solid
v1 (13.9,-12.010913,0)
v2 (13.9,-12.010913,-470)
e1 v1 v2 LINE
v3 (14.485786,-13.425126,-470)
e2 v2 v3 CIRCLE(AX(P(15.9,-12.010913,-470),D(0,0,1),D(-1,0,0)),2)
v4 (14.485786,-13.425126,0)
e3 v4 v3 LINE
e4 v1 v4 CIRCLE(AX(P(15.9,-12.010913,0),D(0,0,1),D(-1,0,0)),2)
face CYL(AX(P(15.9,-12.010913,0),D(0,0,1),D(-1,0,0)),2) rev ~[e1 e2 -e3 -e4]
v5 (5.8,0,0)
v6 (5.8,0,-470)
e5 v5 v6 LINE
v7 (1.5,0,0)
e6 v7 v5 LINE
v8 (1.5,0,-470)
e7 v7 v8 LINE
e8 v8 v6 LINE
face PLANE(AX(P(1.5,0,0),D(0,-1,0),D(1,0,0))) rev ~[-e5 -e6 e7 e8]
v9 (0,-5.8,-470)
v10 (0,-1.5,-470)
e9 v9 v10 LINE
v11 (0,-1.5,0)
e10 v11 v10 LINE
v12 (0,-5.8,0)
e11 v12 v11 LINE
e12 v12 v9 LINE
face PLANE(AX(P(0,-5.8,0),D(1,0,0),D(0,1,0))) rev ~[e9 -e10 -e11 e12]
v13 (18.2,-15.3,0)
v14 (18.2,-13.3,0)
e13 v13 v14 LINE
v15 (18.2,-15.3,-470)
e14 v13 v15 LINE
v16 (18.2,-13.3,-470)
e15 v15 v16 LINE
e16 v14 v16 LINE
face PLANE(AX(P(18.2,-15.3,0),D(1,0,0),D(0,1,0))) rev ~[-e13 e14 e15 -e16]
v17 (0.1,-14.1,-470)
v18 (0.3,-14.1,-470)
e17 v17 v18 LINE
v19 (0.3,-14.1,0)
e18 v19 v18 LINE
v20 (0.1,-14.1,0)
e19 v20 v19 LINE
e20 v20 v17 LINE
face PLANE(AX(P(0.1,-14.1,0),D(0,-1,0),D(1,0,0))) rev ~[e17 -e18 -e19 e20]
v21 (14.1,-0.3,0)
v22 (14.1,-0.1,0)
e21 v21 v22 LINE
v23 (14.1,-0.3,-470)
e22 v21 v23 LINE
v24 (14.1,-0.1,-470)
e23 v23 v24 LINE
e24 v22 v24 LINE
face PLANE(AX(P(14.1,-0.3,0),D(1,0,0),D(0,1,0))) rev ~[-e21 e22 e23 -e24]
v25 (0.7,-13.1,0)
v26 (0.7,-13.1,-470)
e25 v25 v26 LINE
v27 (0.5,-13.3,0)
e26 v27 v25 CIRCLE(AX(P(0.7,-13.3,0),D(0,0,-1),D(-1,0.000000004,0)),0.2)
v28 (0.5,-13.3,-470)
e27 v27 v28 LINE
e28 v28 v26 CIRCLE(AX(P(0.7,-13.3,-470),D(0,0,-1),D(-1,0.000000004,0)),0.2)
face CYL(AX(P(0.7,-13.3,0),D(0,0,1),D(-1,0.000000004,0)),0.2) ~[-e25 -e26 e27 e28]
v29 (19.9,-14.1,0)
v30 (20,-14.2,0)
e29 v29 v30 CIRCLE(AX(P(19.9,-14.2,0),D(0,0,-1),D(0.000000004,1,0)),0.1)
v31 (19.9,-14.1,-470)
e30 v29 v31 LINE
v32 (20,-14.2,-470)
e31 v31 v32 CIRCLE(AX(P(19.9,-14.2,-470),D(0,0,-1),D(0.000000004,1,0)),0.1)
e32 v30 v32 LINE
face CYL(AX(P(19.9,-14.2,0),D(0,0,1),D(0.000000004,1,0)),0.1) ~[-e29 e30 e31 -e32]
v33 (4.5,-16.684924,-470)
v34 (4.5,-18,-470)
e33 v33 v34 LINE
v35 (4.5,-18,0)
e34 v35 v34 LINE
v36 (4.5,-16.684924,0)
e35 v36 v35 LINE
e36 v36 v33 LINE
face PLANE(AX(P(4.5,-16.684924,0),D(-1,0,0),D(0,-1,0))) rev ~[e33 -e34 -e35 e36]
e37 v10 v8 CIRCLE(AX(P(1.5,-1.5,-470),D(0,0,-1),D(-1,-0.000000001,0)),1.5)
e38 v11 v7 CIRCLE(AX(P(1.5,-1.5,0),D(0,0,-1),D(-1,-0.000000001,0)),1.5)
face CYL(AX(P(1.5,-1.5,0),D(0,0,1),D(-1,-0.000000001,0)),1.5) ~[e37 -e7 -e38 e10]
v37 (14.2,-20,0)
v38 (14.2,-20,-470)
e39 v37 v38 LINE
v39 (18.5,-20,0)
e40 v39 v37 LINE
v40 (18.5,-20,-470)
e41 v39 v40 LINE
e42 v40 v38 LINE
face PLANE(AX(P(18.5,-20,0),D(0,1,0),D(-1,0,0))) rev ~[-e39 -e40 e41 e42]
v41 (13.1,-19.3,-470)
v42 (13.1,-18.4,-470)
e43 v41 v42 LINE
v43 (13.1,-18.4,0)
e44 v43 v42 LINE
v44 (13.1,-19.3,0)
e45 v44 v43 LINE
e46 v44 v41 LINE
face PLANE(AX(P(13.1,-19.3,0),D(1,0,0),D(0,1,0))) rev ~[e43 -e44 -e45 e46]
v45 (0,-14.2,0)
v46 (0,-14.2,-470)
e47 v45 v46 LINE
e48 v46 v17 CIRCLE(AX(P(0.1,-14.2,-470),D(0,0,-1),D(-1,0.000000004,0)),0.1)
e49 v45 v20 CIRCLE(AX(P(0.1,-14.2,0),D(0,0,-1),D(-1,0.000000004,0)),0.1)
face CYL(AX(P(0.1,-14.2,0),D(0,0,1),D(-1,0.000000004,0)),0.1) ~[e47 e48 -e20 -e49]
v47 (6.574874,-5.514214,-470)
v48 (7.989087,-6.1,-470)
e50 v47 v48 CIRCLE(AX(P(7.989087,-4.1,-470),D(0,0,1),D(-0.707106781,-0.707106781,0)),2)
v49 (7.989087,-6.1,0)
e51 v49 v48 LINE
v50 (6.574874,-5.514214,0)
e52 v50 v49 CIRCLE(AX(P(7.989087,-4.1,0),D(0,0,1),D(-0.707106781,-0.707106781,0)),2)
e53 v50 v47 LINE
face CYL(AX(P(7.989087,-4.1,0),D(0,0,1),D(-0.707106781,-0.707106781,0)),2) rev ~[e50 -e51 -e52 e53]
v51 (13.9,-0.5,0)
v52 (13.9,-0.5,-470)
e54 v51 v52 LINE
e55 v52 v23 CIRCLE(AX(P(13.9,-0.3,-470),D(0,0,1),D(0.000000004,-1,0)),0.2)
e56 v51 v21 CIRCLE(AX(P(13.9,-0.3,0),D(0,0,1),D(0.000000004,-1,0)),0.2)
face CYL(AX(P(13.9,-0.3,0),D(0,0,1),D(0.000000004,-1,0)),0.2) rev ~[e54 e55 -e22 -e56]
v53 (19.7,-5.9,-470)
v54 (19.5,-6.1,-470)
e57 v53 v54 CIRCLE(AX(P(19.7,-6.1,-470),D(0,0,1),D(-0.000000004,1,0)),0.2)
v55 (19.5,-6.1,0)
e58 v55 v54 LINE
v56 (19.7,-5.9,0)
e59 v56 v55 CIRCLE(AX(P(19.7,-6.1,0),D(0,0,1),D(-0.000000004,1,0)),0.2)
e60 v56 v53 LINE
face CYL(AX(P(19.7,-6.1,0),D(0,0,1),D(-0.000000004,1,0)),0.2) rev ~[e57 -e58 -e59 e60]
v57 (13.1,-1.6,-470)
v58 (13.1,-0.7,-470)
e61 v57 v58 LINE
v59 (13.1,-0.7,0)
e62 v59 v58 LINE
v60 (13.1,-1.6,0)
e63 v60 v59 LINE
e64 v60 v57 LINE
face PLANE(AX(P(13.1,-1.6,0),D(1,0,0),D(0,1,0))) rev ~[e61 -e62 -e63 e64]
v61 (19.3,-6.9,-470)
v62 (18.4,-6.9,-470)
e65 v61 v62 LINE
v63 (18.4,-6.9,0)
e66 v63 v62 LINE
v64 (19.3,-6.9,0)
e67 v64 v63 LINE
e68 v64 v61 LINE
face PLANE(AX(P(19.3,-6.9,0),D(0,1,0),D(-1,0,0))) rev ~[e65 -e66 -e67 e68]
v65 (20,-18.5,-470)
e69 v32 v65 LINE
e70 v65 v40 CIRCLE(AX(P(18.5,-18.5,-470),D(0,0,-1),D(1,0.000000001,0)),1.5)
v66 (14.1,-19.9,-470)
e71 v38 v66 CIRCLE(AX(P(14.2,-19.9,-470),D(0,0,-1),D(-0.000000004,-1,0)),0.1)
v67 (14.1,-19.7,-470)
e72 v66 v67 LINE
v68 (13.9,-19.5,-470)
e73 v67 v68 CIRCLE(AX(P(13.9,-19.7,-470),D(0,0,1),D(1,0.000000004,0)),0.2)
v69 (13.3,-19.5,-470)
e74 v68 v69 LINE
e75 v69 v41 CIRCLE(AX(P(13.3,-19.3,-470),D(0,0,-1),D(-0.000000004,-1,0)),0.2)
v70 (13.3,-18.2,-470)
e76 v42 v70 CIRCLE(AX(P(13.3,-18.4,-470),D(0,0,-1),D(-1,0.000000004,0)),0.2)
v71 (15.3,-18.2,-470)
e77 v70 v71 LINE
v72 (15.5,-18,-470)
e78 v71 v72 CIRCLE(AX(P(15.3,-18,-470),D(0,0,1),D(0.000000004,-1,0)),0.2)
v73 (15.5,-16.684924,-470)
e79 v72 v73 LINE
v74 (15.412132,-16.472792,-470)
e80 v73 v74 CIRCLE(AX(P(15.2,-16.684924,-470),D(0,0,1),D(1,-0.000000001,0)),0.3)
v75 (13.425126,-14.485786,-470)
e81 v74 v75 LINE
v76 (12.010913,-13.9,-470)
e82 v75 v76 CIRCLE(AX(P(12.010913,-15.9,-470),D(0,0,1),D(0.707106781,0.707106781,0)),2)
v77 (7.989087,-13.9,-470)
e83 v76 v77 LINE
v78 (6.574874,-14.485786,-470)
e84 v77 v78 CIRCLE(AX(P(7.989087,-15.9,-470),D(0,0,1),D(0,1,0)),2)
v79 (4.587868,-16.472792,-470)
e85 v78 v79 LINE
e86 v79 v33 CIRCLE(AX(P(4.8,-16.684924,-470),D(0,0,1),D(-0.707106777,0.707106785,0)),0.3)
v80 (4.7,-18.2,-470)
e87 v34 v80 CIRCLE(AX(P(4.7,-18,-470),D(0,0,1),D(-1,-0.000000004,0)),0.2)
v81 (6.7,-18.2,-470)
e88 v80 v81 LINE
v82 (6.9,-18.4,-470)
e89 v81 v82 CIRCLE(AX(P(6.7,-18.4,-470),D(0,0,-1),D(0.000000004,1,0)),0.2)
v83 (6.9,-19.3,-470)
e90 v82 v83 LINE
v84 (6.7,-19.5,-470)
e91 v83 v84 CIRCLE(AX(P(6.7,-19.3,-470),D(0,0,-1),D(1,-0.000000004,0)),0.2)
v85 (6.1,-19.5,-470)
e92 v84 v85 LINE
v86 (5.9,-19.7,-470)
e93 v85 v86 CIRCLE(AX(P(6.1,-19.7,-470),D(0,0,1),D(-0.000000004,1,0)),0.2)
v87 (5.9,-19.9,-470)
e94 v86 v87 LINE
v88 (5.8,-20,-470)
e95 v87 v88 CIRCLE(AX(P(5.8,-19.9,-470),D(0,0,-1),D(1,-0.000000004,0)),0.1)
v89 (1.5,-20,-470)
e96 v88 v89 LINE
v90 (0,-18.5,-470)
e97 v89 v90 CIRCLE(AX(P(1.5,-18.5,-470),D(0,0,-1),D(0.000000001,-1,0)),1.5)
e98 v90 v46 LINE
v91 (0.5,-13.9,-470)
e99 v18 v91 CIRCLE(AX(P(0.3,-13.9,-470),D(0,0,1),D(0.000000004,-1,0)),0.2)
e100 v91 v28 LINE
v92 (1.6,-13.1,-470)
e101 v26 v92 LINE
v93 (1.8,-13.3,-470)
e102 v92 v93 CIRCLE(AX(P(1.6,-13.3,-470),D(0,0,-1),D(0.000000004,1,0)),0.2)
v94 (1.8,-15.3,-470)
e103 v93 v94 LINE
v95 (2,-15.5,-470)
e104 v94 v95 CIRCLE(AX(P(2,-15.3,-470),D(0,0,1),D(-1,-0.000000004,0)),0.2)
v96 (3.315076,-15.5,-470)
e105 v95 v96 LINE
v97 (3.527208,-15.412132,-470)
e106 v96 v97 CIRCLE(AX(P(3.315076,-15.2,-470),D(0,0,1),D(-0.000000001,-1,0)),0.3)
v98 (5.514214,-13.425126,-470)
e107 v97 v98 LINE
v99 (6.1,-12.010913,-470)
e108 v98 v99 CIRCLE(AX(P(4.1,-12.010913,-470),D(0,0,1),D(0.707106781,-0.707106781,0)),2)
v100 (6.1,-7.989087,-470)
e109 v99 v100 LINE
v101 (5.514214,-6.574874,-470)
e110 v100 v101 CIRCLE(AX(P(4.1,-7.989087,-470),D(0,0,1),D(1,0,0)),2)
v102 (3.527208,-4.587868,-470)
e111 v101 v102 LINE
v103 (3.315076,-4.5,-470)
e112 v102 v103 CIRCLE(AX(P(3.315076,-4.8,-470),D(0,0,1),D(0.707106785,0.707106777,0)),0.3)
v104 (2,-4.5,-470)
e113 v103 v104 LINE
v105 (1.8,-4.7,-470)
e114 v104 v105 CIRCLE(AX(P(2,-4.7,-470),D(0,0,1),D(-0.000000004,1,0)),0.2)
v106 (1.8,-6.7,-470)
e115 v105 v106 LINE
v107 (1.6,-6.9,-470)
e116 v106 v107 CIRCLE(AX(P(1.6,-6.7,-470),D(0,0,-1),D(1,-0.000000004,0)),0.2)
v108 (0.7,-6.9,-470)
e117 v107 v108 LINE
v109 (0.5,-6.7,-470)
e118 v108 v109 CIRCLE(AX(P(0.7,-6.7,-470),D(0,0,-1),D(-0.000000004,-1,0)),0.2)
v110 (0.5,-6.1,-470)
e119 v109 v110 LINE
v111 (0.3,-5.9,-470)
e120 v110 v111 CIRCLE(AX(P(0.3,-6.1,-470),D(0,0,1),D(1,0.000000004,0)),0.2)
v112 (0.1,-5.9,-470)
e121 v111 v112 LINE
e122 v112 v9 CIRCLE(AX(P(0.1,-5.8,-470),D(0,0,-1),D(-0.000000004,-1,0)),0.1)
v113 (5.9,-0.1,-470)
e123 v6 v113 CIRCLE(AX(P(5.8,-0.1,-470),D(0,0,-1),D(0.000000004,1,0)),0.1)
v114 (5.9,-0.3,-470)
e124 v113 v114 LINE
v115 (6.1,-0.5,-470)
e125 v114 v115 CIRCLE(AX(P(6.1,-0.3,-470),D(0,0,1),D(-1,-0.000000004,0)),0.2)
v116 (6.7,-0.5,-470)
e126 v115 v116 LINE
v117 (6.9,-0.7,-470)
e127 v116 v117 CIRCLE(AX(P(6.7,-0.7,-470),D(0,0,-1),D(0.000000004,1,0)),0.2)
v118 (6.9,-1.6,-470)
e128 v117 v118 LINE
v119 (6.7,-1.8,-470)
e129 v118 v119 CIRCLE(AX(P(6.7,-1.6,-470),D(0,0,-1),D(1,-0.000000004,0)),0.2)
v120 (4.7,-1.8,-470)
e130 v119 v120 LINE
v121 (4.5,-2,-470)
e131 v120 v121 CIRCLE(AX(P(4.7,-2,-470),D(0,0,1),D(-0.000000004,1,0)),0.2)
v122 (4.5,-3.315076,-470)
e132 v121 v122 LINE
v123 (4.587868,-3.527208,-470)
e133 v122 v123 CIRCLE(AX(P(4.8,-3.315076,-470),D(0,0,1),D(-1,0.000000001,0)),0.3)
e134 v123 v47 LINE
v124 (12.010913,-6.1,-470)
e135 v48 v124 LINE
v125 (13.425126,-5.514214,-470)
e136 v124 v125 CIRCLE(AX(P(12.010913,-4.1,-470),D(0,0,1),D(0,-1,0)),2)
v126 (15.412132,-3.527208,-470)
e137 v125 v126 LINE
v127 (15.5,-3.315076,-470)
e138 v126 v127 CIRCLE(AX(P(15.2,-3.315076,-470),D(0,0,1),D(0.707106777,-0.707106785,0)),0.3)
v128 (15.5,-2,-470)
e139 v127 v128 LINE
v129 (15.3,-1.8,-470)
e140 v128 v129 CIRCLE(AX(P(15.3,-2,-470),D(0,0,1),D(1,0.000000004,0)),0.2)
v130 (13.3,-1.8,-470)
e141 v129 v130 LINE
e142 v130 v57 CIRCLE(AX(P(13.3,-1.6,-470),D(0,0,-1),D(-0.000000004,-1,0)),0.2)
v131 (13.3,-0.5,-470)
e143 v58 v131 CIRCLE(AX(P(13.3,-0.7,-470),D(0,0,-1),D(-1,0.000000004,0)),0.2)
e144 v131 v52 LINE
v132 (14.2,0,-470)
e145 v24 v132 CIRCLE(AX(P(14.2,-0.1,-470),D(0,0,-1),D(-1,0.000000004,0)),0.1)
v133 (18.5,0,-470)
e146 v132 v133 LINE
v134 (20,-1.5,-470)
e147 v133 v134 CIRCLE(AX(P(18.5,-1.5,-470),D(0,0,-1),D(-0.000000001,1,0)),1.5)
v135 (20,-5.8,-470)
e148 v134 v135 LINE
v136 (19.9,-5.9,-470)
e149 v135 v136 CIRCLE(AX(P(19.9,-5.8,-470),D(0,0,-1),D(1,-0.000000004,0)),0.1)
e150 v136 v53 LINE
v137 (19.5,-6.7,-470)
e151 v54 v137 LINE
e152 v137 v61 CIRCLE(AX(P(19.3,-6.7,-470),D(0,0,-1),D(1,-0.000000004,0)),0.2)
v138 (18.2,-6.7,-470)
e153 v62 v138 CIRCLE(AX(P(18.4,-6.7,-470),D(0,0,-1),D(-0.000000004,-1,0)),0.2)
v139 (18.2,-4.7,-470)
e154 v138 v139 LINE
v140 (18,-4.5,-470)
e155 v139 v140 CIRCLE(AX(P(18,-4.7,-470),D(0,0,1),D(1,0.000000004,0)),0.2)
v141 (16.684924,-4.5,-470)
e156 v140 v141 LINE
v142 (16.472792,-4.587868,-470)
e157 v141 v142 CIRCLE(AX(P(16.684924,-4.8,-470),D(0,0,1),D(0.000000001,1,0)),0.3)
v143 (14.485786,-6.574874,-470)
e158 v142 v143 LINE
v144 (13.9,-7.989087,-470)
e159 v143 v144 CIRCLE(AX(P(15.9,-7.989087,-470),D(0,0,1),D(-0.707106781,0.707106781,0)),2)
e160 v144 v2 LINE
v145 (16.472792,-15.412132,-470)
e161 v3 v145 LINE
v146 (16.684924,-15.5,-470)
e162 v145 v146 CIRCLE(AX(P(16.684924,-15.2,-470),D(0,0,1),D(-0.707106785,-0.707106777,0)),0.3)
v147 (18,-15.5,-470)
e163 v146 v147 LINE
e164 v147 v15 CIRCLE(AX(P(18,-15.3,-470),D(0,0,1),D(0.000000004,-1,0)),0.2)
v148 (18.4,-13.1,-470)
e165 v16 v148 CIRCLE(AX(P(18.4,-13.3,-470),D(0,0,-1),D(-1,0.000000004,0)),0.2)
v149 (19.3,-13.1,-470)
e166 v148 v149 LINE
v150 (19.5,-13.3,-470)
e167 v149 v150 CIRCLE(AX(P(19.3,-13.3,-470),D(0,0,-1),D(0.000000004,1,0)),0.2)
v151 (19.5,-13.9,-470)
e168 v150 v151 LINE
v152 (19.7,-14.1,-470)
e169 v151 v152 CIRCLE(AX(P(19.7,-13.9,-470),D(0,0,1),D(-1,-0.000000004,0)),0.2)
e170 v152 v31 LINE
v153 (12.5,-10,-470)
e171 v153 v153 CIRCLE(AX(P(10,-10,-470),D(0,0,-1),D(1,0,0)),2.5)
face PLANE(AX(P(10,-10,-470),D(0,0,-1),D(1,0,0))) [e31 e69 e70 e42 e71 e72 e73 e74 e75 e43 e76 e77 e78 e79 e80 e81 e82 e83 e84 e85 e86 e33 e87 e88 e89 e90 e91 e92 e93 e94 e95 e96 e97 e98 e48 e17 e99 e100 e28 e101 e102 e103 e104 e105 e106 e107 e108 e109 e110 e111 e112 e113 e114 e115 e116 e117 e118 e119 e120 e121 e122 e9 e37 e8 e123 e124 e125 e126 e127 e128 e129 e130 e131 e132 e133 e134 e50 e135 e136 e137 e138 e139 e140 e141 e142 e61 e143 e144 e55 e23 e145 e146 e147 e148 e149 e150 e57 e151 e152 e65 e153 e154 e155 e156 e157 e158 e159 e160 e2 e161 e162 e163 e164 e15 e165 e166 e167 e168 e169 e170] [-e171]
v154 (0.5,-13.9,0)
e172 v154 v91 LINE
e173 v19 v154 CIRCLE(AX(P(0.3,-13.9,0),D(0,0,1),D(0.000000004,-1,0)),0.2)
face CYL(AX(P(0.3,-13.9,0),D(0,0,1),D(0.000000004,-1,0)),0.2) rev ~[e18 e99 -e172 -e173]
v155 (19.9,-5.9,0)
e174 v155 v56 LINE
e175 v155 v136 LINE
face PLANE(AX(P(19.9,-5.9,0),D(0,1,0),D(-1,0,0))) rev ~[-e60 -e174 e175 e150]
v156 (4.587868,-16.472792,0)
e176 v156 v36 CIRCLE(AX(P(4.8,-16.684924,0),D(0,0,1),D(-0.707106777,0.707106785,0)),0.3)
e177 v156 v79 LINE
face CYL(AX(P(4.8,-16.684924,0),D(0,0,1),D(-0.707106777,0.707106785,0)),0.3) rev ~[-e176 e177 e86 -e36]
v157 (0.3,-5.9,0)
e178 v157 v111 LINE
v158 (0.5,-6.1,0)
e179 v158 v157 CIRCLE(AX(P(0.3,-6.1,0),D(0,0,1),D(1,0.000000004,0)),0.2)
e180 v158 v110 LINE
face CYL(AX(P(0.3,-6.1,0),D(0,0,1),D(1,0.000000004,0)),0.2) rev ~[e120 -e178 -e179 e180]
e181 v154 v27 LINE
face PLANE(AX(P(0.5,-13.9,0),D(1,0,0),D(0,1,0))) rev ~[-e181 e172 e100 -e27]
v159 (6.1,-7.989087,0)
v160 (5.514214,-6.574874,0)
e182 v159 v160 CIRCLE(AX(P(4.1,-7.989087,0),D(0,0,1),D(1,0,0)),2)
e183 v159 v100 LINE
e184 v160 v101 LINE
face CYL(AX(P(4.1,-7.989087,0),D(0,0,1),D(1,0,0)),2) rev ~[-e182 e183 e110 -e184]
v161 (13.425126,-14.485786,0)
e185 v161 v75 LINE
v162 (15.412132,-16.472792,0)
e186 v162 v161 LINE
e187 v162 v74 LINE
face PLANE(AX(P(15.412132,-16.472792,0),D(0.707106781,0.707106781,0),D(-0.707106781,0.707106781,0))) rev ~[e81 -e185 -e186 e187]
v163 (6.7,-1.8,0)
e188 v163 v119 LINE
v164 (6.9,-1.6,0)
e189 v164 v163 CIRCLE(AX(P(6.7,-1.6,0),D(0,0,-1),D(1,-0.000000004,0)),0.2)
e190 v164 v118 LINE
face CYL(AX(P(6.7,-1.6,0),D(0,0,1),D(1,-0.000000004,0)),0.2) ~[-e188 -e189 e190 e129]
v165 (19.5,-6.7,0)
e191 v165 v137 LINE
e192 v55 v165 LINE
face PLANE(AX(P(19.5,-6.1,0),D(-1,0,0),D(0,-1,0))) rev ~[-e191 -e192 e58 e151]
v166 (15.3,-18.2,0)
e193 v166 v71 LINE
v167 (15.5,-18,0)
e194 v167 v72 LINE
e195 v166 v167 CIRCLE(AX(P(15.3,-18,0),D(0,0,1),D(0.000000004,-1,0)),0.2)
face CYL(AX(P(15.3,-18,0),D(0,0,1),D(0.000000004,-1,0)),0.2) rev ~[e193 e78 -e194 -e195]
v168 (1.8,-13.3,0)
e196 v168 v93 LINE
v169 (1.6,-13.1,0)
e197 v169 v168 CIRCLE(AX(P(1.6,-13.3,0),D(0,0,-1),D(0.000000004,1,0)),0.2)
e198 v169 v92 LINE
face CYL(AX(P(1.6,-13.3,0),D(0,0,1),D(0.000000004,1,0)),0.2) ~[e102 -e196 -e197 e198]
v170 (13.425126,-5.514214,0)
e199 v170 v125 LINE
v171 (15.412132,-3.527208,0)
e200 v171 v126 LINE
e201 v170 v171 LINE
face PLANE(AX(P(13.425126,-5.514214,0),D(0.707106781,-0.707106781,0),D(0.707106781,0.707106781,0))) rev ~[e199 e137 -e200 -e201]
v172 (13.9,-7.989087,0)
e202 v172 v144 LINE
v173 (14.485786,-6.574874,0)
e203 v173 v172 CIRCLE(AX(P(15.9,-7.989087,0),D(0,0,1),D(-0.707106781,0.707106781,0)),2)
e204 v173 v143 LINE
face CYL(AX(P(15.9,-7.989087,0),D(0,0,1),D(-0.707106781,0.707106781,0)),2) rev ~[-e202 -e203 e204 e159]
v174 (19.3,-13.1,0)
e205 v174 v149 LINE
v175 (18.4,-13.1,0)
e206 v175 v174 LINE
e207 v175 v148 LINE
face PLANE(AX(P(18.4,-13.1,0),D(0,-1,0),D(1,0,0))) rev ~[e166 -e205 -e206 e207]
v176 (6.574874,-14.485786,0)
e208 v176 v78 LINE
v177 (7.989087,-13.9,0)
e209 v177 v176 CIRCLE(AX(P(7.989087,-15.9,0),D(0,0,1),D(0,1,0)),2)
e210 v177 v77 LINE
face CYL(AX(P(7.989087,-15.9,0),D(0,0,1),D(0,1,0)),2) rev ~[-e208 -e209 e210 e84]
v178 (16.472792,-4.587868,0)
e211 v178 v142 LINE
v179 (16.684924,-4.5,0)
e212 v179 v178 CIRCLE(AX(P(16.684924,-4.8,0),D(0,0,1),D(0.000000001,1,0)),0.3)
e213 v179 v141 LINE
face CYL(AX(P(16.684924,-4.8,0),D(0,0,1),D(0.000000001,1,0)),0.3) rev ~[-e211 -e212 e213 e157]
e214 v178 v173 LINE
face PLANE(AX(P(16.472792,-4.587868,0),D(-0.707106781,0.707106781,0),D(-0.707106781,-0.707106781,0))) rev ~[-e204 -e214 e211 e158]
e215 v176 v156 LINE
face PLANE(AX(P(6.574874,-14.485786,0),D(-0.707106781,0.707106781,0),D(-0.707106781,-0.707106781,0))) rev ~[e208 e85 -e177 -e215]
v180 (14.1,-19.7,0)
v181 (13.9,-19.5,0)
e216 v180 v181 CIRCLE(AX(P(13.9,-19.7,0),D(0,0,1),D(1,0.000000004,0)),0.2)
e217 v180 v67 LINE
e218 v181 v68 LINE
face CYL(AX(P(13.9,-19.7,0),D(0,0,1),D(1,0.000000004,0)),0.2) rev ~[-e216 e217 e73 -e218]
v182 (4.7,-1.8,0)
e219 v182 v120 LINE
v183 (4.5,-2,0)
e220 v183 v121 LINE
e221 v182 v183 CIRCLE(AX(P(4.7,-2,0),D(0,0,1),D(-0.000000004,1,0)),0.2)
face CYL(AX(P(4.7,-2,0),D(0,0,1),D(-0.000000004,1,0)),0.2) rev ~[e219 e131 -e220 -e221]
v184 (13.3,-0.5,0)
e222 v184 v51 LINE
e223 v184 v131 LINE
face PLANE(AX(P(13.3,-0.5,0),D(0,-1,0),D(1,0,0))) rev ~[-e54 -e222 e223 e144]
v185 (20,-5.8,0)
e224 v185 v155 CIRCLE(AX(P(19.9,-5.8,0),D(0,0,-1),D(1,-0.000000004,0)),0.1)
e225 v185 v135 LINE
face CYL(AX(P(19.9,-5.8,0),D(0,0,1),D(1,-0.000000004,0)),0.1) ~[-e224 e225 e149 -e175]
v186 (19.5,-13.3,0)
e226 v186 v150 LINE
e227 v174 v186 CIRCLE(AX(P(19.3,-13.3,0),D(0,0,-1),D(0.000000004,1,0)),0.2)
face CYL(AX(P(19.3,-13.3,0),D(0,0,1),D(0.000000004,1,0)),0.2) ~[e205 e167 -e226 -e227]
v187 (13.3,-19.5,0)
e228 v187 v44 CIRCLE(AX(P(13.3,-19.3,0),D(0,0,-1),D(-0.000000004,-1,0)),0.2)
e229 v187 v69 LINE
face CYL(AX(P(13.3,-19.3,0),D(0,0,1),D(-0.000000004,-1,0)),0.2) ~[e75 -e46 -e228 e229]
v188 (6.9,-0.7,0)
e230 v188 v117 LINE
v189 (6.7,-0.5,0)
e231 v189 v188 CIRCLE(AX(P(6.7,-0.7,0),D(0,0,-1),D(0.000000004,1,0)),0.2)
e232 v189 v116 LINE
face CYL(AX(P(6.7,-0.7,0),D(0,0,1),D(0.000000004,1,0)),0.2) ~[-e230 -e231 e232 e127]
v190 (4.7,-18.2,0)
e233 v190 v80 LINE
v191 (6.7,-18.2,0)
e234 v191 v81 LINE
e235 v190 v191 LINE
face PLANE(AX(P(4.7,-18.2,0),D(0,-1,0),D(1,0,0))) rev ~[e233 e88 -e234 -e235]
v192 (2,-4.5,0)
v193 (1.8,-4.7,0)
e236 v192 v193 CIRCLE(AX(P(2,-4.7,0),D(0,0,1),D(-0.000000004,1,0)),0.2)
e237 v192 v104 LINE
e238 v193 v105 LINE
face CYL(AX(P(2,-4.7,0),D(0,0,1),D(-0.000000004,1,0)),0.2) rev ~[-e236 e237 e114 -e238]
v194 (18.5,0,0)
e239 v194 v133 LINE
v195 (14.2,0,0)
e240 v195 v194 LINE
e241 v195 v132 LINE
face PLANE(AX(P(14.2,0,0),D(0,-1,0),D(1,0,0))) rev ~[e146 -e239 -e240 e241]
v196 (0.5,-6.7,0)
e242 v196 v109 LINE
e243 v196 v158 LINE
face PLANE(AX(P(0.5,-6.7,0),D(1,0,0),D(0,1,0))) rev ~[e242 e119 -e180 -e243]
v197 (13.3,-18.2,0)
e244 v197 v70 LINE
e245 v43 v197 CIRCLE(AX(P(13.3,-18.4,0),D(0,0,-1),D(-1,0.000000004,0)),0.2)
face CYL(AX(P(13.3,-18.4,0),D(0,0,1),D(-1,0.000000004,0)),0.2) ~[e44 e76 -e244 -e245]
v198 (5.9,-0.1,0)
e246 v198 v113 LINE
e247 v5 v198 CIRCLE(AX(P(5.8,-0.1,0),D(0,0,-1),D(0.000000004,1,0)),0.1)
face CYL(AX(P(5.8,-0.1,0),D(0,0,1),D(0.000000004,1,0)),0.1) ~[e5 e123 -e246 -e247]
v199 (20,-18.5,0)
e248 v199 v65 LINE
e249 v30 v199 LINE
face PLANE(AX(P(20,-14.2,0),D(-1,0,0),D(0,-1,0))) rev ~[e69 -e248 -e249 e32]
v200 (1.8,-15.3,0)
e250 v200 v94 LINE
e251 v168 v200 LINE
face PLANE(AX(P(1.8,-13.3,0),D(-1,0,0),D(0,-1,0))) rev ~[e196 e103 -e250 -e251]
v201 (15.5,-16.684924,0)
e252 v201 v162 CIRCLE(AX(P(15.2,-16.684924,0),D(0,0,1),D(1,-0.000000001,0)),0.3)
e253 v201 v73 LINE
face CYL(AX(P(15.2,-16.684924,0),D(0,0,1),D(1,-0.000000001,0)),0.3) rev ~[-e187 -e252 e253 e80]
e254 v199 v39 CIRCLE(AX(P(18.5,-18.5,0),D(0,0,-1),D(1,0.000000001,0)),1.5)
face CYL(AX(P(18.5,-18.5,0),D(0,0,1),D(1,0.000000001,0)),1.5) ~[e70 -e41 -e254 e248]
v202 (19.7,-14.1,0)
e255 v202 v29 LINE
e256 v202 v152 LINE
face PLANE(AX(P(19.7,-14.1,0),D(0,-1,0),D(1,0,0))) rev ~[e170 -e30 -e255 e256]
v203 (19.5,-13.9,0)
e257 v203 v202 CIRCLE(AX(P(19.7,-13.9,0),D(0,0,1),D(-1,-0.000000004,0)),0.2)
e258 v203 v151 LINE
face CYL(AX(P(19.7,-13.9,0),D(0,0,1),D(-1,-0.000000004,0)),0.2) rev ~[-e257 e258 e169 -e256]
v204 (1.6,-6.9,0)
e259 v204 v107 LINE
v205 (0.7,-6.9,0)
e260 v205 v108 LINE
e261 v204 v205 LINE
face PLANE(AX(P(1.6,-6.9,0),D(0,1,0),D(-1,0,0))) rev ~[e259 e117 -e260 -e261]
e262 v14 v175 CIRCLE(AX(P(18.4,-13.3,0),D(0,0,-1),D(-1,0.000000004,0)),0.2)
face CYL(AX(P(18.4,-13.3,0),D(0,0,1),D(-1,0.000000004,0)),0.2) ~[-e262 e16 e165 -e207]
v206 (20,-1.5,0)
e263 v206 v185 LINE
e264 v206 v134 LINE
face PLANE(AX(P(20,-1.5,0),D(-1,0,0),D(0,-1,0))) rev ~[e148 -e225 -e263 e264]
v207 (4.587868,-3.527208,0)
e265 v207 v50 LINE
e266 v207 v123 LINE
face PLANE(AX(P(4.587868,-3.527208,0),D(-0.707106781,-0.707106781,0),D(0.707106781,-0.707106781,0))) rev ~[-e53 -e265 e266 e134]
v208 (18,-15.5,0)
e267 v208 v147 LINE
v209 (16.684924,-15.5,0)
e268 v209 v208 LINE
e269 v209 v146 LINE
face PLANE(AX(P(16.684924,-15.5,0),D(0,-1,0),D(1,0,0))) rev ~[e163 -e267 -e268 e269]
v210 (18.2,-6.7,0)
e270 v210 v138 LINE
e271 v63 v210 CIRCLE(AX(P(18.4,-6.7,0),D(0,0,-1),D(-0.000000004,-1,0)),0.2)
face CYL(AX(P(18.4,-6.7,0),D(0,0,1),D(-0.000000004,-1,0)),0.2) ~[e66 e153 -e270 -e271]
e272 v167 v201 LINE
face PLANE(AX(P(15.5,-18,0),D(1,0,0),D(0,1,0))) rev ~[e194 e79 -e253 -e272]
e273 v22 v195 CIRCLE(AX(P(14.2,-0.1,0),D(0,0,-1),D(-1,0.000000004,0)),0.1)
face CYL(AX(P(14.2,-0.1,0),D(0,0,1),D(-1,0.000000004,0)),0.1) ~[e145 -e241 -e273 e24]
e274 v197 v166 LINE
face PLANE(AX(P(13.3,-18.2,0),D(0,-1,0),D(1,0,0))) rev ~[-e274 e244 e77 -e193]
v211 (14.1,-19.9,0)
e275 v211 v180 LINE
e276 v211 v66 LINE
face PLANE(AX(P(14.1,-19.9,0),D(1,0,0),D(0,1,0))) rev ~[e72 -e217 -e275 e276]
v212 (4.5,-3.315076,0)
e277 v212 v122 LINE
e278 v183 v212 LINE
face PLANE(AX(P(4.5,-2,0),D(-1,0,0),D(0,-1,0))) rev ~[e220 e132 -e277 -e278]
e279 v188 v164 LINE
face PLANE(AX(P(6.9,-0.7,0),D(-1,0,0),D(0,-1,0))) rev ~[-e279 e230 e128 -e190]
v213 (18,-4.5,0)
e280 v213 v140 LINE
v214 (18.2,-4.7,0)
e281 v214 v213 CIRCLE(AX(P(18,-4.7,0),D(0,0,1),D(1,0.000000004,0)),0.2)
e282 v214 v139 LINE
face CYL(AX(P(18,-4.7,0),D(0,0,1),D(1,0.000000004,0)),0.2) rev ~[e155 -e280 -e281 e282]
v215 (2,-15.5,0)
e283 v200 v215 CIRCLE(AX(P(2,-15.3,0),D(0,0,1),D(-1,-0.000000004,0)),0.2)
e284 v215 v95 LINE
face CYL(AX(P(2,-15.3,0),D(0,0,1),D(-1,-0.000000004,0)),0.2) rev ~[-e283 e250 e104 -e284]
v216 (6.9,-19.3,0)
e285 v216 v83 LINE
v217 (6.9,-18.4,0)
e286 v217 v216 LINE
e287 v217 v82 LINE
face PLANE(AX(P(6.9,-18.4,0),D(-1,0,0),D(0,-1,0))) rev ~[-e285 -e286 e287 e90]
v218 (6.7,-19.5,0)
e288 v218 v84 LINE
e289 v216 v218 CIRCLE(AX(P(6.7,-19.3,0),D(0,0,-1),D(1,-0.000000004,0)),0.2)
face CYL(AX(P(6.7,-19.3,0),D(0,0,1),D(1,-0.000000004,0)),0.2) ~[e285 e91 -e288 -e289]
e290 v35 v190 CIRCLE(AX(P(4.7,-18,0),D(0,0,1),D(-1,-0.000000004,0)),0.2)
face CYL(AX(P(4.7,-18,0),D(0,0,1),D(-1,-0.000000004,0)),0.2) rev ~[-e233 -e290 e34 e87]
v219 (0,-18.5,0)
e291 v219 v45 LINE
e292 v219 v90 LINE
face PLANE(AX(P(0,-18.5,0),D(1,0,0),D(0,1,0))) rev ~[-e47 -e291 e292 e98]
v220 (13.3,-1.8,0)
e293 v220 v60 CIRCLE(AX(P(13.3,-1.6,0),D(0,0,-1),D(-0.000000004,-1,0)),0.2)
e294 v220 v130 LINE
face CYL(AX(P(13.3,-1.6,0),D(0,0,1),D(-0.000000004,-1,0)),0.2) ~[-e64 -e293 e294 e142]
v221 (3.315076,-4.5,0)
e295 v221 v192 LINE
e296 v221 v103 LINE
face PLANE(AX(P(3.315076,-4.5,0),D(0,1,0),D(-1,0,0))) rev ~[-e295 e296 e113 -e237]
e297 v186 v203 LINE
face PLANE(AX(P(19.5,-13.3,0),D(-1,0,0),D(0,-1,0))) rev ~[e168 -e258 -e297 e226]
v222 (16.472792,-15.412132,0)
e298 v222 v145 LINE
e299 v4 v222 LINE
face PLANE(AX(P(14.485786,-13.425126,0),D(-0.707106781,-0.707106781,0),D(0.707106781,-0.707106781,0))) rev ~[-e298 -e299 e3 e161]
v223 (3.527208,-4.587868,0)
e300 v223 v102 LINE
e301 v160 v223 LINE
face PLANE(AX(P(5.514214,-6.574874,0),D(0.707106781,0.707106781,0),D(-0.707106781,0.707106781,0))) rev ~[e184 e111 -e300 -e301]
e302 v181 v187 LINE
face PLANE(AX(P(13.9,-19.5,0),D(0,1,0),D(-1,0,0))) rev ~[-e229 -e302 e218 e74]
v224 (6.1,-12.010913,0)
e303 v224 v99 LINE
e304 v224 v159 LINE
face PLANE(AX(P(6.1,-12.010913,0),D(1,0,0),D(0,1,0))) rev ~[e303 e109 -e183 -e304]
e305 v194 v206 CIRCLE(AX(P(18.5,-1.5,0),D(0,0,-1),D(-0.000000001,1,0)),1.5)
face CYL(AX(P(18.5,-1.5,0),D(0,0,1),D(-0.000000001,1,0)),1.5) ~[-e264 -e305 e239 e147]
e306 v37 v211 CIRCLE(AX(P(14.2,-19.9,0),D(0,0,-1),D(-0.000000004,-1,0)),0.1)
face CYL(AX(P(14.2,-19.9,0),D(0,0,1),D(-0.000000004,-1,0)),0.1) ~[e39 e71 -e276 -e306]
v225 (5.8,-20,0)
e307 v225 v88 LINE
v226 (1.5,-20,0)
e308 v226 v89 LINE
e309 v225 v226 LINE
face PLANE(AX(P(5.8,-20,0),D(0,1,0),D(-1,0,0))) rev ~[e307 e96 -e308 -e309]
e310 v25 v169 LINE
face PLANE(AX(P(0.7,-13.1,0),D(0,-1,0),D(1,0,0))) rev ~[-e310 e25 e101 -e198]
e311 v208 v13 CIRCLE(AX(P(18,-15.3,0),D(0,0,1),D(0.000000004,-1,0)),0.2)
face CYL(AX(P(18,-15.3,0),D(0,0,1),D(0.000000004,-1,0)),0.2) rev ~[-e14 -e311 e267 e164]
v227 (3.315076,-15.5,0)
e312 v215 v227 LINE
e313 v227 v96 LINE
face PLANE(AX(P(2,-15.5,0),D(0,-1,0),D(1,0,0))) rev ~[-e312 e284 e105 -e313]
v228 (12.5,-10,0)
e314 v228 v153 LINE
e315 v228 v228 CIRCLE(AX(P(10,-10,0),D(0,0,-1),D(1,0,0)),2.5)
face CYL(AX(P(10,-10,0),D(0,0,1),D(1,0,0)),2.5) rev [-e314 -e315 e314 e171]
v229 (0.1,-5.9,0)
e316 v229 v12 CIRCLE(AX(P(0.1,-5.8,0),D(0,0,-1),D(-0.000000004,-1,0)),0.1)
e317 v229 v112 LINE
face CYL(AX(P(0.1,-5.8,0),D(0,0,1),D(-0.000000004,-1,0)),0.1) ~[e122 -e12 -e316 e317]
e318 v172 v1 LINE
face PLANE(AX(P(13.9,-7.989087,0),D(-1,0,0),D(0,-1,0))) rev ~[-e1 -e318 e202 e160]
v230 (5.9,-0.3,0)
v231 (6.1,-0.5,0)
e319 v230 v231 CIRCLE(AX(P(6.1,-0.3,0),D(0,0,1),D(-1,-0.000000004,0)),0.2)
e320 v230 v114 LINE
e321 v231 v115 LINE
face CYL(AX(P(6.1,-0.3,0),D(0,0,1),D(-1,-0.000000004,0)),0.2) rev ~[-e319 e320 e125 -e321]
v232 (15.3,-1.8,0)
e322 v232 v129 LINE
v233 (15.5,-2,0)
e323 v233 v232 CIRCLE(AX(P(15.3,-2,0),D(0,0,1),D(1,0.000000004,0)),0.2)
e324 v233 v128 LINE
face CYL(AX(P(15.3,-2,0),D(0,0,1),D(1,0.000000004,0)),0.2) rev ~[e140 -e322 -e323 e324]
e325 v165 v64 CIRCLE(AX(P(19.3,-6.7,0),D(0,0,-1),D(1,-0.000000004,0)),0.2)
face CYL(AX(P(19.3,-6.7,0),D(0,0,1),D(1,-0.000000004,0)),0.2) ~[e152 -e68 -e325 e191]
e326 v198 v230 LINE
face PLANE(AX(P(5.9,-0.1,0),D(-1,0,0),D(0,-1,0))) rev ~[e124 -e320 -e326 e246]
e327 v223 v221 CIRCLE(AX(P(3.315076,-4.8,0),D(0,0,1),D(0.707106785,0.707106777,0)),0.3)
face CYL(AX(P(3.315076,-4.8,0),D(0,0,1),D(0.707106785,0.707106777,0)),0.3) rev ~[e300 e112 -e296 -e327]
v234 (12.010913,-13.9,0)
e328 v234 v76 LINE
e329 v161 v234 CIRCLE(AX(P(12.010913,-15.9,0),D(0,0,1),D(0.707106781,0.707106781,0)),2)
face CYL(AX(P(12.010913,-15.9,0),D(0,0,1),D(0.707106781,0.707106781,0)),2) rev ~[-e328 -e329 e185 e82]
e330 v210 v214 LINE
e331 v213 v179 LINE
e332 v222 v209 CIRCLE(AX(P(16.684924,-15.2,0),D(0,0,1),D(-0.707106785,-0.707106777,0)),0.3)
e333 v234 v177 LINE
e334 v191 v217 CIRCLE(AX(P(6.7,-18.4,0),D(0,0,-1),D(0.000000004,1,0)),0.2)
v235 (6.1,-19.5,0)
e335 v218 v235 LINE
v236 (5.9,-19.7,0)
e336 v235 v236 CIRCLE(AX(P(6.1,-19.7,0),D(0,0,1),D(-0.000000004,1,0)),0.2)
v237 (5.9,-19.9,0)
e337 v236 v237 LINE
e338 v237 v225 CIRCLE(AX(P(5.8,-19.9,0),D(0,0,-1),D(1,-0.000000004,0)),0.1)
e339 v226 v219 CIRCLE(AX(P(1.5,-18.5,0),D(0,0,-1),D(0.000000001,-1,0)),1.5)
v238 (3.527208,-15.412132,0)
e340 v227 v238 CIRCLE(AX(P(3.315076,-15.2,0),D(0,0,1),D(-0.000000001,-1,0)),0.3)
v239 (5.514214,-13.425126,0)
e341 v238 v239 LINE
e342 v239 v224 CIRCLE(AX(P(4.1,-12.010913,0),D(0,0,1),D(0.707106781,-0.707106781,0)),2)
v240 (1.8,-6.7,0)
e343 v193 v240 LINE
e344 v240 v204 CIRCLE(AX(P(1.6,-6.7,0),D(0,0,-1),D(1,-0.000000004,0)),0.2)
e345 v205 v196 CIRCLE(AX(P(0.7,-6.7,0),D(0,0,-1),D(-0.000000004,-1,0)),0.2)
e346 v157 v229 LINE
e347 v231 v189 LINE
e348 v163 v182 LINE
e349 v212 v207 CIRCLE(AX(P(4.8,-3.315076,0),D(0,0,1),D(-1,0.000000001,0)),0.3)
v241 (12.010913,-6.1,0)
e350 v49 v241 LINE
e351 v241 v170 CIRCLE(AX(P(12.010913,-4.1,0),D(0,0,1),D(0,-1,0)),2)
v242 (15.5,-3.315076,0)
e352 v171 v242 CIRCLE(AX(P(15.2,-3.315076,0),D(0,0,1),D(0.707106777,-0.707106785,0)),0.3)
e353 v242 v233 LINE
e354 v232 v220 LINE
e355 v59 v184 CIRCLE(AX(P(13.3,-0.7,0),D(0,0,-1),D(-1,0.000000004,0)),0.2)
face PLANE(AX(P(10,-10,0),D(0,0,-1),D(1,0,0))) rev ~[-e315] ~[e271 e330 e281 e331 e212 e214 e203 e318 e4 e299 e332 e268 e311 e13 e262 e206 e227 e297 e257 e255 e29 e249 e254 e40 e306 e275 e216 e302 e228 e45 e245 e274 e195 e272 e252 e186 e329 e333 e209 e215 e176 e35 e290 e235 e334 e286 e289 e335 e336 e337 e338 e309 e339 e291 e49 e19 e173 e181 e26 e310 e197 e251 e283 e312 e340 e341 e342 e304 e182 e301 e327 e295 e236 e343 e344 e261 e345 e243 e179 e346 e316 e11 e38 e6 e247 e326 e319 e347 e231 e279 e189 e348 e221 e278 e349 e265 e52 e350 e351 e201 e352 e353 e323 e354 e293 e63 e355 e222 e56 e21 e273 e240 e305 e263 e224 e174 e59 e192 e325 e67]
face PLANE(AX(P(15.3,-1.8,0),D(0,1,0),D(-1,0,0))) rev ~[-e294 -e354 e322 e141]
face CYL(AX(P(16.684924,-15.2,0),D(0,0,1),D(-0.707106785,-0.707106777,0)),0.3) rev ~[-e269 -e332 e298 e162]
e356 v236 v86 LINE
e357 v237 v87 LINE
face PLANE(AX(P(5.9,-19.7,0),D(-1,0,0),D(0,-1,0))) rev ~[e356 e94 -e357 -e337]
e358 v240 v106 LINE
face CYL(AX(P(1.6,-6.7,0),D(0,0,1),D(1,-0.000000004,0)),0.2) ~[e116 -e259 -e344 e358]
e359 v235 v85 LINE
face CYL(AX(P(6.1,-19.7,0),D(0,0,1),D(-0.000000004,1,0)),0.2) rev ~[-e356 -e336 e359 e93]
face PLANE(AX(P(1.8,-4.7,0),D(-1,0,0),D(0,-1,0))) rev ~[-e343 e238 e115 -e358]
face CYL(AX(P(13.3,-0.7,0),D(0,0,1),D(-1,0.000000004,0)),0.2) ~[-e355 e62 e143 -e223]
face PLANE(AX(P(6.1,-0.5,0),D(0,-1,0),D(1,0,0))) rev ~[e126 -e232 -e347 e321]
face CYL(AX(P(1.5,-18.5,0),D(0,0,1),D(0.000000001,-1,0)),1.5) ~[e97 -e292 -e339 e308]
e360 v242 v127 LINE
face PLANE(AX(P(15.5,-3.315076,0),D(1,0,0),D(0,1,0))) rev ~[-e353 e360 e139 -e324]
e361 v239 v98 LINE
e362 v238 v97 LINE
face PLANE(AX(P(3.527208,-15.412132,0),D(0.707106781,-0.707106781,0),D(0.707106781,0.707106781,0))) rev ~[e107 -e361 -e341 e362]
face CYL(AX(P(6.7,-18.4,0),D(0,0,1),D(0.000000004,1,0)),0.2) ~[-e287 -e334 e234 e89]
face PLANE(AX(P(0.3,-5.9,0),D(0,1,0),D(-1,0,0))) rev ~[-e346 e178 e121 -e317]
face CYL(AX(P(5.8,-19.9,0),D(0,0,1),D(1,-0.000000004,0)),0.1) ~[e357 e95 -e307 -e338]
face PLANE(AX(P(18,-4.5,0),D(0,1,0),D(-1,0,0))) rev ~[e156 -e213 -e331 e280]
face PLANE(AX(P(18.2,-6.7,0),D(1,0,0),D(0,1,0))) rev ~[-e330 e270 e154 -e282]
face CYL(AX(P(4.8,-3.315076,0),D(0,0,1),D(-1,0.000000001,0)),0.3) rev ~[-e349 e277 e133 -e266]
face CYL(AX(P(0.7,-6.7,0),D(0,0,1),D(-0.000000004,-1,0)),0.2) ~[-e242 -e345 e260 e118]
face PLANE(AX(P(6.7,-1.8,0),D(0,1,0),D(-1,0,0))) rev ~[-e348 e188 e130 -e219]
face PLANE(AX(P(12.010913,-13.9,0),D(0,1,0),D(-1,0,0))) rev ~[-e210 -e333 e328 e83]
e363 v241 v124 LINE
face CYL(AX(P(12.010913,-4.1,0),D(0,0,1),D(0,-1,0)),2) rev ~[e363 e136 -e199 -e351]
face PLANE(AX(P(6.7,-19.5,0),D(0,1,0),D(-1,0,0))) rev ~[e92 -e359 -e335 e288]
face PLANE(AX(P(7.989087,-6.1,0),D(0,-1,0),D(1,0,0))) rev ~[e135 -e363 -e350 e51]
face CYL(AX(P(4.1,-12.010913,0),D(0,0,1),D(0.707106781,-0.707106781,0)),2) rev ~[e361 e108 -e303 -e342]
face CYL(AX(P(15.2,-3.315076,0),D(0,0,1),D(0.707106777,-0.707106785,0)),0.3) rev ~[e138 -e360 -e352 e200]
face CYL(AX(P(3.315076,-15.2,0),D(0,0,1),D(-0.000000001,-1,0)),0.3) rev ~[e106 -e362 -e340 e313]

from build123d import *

# Parameters (mm, degrees)
SKETCH1_R           = 2.5
BOSS_EXTRUDE1_DEPTH = 470


with BuildPart() as part:
    # Sketch1 → Boss-Extrude1 (new body)
    with BuildSketch(Plane(origin=(0, 0, 0), x_dir=(1, 0, 0), z_dir=(0, 0, -1))):
        with BuildLine():
            Line((1.5, 0), (5.8, 0))
            ThreePointArc((5.8, 0), (5.870710678, 0.029289322), (5.9, 0.1))
            Line((5.9, 0.1), (5.9, 0.3))
            ThreePointArc((5.9, 0.3), (5.958578644, 0.441421356), (6.1, 0.5))
            Line((6.1, 0.5), (6.7, 0.5))
            ThreePointArc((6.7, 0.5), (6.841421356, 0.558578644), (6.9, 0.7))
            Line((6.9, 0.7), (6.9, 1.6))
            ThreePointArc((6.9, 1.6), (6.841421356, 1.741421356), (6.7, 1.8))
            Line((6.7, 1.8), (4.7, 1.8))
            ThreePointArc((4.7, 1.8), (4.558578644, 1.858578644), (4.5, 2))
            Line((4.5, 2), (4.5, 3.31507576))
            ThreePointArc((4.5, 3.31507576), (4.52283614, 3.429880789), (4.587867966, 3.527207794))
            Line((4.587867966, 3.527207794), (6.574873734, 5.514213562))
            ThreePointArc((6.574873734, 5.514213562), (7.223720432, 5.947759065), (7.989087297, 6.1))
            Line((7.989087297, 6.1), (12.010912703, 6.1))
            ThreePointArc((12.010912703, 6.1), (12.776279568, 5.947759065), (13.425126266, 5.514213562))
            Line((13.425126266, 5.514213562), (15.412132034, 3.527207794))
            ThreePointArc((15.412132034, 3.527207794), (15.47716386, 3.429880789), (15.5, 3.31507576))
            Line((15.5, 3.31507576), (15.5, 2))
            ThreePointArc((15.5, 2), (15.441421356, 1.858578644), (15.3, 1.8))
            Line((15.3, 1.8), (13.3, 1.8))
            ThreePointArc((13.3, 1.8), (13.158578644, 1.741421356), (13.1, 1.6))
            Line((13.1, 1.6), (13.1, 0.7))
            ThreePointArc((13.1, 0.7), (13.158578644, 0.558578644), (13.3, 0.5))
            Line((13.3, 0.5), (13.9, 0.5))
            ThreePointArc((13.9, 0.5), (14.041421356, 0.441421356), (14.1, 0.3))
            Line((14.1, 0.3), (14.1, 0.1))
            ThreePointArc((14.1, 0.1), (14.129289322, 0.029289322), (14.2, 0))
            Line((14.2, 0), (18.5, 0))
            ThreePointArc((18.5, 0), (19.560660172, 0.439339828), (20, 1.5))
            Line((20, 1.5), (20, 5.8))
            ThreePointArc((20, 5.8), (19.970710678, 5.870710678), (19.9, 5.9))
            Line((19.9, 5.9), (19.7, 5.9))
            ThreePointArc((19.7, 5.9), (19.558578644, 5.958578644), (19.5, 6.1))
            Line((19.5, 6.1), (19.5, 6.7))
            ThreePointArc((19.5, 6.7), (19.441421356, 6.841421356), (19.3, 6.9))
            Line((19.3, 6.9), (18.4, 6.9))
            ThreePointArc((18.4, 6.9), (18.258578644, 6.841421356), (18.2, 6.7))
            Line((18.2, 6.7), (18.2, 4.7))
            ThreePointArc((18.2, 4.7), (18.141421356, 4.558578644), (18, 4.5))
            Line((18, 4.5), (16.68492424, 4.5))
            ThreePointArc((16.68492424, 4.5), (16.570119211, 4.52283614), (16.472792206, 4.587867966))
            Line((16.472792206, 4.587867966), (14.485786438, 6.574873734))
            ThreePointArc((14.485786438, 6.574873734), (14.052240935, 7.223720432), (13.9, 7.989087297))
            Line((13.9, 7.989087297), (13.9, 12.010912703))
            ThreePointArc((13.9, 12.010912703), (14.052240935, 12.776279568), (14.485786438, 13.425126266))
            Line((14.485786438, 13.425126266), (16.472792206, 15.412132034))
            ThreePointArc((16.472792206, 15.412132034), (16.570119211, 15.47716386), (16.68492424, 15.5))
            Line((16.68492424, 15.5), (18, 15.5))
            ThreePointArc((18, 15.5), (18.141421356, 15.441421356), (18.2, 15.3))
            Line((18.2, 15.3), (18.2, 13.3))
            ThreePointArc((18.2, 13.3), (18.258578644, 13.158578644), (18.4, 13.1))
            Line((18.4, 13.1), (19.3, 13.1))
            ThreePointArc((19.3, 13.1), (19.441421356, 13.158578644), (19.5, 13.3))
            Line((19.5, 13.3), (19.5, 13.9))
            ThreePointArc((19.5, 13.9), (19.558578644, 14.041421356), (19.7, 14.1))
            Line((19.7, 14.1), (19.9, 14.1))
            ThreePointArc((19.9, 14.1), (19.970710678, 14.129289322), (20, 14.2))
            Line((20, 14.2), (20, 18.5))
            ThreePointArc((20, 18.5), (19.560660172, 19.560660172), (18.5, 20))
            Line((18.5, 20), (14.2, 20))
            ThreePointArc((14.2, 20), (14.129289322, 19.970710678), (14.1, 19.9))
            Line((14.1, 19.9), (14.1, 19.7))
            ThreePointArc((14.1, 19.7), (14.041421356, 19.558578644), (13.9, 19.5))
            Line((13.9, 19.5), (13.3, 19.5))
            ThreePointArc((13.3, 19.5), (13.158578644, 19.441421356), (13.1, 19.3))
            Line((13.1, 19.3), (13.1, 18.4))
            ThreePointArc((13.1, 18.4), (13.158578644, 18.258578644), (13.3, 18.2))
            Line((13.3, 18.2), (15.3, 18.2))
            ThreePointArc((15.3, 18.2), (15.441421356, 18.141421356), (15.5, 18))
            Line((15.5, 18), (15.5, 16.68492424))
            ThreePointArc((15.5, 16.68492424), (15.47716386, 16.570119211), (15.412132034, 16.472792206))
            Line((15.412132034, 16.472792206), (13.425126266, 14.485786438))
            ThreePointArc((13.425126266, 14.485786438), (12.776279568, 14.052240935), (12.010912703, 13.9))
            Line((12.010912703, 13.9), (7.989087297, 13.9))
            ThreePointArc((7.989087297, 13.9), (7.223720432, 14.052240935), (6.574873734, 14.485786438))
            Line((6.574873734, 14.485786438), (4.587867966, 16.472792206))
            ThreePointArc((4.587867966, 16.472792206), (4.52283614, 16.570119211), (4.5, 16.68492424))
            Line((4.5, 16.68492424), (4.5, 18))
            ThreePointArc((4.5, 18), (4.558578644, 18.141421356), (4.7, 18.2))
            Line((4.7, 18.2), (6.7, 18.2))
            ThreePointArc((6.7, 18.2), (6.841421356, 18.258578644), (6.9, 18.4))
            Line((6.9, 18.4), (6.9, 19.3))
            ThreePointArc((6.9, 19.3), (6.841421356, 19.441421356), (6.7, 19.5))
            Line((6.7, 19.5), (6.1, 19.5))
            ThreePointArc((6.1, 19.5), (5.958578644, 19.558578644), (5.9, 19.7))
            Line((5.9, 19.7), (5.9, 19.9))
            ThreePointArc((5.9, 19.9), (5.870710678, 19.970710678), (5.8, 20))
            Line((5.8, 20), (1.5, 20))
            ThreePointArc((1.5, 20), (0.439339828, 19.560660172), (0, 18.5))
            Line((0, 18.5), (0, 14.2))
            ThreePointArc((0, 14.2), (0.029289322, 14.129289322), (0.1, 14.1))
            Line((0.1, 14.1), (0.3, 14.1))
            ThreePointArc((0.3, 14.1), (0.441421356, 14.041421356), (0.5, 13.9))
            Line((0.5, 13.9), (0.5, 13.3))
            ThreePointArc((0.5, 13.3), (0.558578644, 13.158578644), (0.7, 13.1))
            Line((0.7, 13.1), (1.6, 13.1))
            ThreePointArc((1.6, 13.1), (1.741421356, 13.158578644), (1.8, 13.3))
            Line((1.8, 13.3), (1.8, 15.3))
            ThreePointArc((1.8, 15.3), (1.858578644, 15.441421356), (2, 15.5))
            Line((2, 15.5), (3.31507576, 15.5))
            ThreePointArc((3.31507576, 15.5), (3.429880789, 15.47716386), (3.527207794, 15.412132034))
            Line((3.527207794, 15.412132034), (5.514213562, 13.425126266))
            ThreePointArc((5.514213562, 13.425126266), (5.947759065, 12.776279568), (6.1, 12.010912703))
            Line((6.1, 12.010912703), (6.1, 7.989087297))
            ThreePointArc((6.1, 7.989087297), (5.947759065, 7.223720432), (5.514213562, 6.574873734))
            Line((5.514213562, 6.574873734), (3.527207794, 4.587867966))
            ThreePointArc((3.527207794, 4.587867966), (3.429880789, 4.52283614), (3.31507576, 4.5))
            Line((3.31507576, 4.5), (2, 4.5))
            ThreePointArc((2, 4.5), (1.858578644, 4.558578644), (1.8, 4.7))
            Line((1.8, 4.7), (1.8, 6.7))
            ThreePointArc((1.8, 6.7), (1.741421356, 6.841421356), (1.6, 6.9))
            Line((1.6, 6.9), (0.7, 6.9))
            ThreePointArc((0.7, 6.9), (0.558578644, 6.841421356), (0.5, 6.7))
            Line((0.5, 6.7), (0.5, 6.1))
            ThreePointArc((0.5, 6.1), (0.441421356, 5.958578644), (0.3, 5.9))
            Line((0.3, 5.9), (0.1, 5.9))
            ThreePointArc((0.1, 5.9), (0.029289322, 5.870710678), (0, 5.8))
            Line((0, 5.8), (0, 1.5))
            ThreePointArc((0, 1.5), (0.439339828, 0.439339828), (1.5, 0))
        make_face()
        with Locations((10, 10)):
            Circle(SKETCH1_R, mode=Mode.SUBTRACT)
    extrude(amount=BOSS_EXTRUDE1_DEPTH)


solid = part.part
